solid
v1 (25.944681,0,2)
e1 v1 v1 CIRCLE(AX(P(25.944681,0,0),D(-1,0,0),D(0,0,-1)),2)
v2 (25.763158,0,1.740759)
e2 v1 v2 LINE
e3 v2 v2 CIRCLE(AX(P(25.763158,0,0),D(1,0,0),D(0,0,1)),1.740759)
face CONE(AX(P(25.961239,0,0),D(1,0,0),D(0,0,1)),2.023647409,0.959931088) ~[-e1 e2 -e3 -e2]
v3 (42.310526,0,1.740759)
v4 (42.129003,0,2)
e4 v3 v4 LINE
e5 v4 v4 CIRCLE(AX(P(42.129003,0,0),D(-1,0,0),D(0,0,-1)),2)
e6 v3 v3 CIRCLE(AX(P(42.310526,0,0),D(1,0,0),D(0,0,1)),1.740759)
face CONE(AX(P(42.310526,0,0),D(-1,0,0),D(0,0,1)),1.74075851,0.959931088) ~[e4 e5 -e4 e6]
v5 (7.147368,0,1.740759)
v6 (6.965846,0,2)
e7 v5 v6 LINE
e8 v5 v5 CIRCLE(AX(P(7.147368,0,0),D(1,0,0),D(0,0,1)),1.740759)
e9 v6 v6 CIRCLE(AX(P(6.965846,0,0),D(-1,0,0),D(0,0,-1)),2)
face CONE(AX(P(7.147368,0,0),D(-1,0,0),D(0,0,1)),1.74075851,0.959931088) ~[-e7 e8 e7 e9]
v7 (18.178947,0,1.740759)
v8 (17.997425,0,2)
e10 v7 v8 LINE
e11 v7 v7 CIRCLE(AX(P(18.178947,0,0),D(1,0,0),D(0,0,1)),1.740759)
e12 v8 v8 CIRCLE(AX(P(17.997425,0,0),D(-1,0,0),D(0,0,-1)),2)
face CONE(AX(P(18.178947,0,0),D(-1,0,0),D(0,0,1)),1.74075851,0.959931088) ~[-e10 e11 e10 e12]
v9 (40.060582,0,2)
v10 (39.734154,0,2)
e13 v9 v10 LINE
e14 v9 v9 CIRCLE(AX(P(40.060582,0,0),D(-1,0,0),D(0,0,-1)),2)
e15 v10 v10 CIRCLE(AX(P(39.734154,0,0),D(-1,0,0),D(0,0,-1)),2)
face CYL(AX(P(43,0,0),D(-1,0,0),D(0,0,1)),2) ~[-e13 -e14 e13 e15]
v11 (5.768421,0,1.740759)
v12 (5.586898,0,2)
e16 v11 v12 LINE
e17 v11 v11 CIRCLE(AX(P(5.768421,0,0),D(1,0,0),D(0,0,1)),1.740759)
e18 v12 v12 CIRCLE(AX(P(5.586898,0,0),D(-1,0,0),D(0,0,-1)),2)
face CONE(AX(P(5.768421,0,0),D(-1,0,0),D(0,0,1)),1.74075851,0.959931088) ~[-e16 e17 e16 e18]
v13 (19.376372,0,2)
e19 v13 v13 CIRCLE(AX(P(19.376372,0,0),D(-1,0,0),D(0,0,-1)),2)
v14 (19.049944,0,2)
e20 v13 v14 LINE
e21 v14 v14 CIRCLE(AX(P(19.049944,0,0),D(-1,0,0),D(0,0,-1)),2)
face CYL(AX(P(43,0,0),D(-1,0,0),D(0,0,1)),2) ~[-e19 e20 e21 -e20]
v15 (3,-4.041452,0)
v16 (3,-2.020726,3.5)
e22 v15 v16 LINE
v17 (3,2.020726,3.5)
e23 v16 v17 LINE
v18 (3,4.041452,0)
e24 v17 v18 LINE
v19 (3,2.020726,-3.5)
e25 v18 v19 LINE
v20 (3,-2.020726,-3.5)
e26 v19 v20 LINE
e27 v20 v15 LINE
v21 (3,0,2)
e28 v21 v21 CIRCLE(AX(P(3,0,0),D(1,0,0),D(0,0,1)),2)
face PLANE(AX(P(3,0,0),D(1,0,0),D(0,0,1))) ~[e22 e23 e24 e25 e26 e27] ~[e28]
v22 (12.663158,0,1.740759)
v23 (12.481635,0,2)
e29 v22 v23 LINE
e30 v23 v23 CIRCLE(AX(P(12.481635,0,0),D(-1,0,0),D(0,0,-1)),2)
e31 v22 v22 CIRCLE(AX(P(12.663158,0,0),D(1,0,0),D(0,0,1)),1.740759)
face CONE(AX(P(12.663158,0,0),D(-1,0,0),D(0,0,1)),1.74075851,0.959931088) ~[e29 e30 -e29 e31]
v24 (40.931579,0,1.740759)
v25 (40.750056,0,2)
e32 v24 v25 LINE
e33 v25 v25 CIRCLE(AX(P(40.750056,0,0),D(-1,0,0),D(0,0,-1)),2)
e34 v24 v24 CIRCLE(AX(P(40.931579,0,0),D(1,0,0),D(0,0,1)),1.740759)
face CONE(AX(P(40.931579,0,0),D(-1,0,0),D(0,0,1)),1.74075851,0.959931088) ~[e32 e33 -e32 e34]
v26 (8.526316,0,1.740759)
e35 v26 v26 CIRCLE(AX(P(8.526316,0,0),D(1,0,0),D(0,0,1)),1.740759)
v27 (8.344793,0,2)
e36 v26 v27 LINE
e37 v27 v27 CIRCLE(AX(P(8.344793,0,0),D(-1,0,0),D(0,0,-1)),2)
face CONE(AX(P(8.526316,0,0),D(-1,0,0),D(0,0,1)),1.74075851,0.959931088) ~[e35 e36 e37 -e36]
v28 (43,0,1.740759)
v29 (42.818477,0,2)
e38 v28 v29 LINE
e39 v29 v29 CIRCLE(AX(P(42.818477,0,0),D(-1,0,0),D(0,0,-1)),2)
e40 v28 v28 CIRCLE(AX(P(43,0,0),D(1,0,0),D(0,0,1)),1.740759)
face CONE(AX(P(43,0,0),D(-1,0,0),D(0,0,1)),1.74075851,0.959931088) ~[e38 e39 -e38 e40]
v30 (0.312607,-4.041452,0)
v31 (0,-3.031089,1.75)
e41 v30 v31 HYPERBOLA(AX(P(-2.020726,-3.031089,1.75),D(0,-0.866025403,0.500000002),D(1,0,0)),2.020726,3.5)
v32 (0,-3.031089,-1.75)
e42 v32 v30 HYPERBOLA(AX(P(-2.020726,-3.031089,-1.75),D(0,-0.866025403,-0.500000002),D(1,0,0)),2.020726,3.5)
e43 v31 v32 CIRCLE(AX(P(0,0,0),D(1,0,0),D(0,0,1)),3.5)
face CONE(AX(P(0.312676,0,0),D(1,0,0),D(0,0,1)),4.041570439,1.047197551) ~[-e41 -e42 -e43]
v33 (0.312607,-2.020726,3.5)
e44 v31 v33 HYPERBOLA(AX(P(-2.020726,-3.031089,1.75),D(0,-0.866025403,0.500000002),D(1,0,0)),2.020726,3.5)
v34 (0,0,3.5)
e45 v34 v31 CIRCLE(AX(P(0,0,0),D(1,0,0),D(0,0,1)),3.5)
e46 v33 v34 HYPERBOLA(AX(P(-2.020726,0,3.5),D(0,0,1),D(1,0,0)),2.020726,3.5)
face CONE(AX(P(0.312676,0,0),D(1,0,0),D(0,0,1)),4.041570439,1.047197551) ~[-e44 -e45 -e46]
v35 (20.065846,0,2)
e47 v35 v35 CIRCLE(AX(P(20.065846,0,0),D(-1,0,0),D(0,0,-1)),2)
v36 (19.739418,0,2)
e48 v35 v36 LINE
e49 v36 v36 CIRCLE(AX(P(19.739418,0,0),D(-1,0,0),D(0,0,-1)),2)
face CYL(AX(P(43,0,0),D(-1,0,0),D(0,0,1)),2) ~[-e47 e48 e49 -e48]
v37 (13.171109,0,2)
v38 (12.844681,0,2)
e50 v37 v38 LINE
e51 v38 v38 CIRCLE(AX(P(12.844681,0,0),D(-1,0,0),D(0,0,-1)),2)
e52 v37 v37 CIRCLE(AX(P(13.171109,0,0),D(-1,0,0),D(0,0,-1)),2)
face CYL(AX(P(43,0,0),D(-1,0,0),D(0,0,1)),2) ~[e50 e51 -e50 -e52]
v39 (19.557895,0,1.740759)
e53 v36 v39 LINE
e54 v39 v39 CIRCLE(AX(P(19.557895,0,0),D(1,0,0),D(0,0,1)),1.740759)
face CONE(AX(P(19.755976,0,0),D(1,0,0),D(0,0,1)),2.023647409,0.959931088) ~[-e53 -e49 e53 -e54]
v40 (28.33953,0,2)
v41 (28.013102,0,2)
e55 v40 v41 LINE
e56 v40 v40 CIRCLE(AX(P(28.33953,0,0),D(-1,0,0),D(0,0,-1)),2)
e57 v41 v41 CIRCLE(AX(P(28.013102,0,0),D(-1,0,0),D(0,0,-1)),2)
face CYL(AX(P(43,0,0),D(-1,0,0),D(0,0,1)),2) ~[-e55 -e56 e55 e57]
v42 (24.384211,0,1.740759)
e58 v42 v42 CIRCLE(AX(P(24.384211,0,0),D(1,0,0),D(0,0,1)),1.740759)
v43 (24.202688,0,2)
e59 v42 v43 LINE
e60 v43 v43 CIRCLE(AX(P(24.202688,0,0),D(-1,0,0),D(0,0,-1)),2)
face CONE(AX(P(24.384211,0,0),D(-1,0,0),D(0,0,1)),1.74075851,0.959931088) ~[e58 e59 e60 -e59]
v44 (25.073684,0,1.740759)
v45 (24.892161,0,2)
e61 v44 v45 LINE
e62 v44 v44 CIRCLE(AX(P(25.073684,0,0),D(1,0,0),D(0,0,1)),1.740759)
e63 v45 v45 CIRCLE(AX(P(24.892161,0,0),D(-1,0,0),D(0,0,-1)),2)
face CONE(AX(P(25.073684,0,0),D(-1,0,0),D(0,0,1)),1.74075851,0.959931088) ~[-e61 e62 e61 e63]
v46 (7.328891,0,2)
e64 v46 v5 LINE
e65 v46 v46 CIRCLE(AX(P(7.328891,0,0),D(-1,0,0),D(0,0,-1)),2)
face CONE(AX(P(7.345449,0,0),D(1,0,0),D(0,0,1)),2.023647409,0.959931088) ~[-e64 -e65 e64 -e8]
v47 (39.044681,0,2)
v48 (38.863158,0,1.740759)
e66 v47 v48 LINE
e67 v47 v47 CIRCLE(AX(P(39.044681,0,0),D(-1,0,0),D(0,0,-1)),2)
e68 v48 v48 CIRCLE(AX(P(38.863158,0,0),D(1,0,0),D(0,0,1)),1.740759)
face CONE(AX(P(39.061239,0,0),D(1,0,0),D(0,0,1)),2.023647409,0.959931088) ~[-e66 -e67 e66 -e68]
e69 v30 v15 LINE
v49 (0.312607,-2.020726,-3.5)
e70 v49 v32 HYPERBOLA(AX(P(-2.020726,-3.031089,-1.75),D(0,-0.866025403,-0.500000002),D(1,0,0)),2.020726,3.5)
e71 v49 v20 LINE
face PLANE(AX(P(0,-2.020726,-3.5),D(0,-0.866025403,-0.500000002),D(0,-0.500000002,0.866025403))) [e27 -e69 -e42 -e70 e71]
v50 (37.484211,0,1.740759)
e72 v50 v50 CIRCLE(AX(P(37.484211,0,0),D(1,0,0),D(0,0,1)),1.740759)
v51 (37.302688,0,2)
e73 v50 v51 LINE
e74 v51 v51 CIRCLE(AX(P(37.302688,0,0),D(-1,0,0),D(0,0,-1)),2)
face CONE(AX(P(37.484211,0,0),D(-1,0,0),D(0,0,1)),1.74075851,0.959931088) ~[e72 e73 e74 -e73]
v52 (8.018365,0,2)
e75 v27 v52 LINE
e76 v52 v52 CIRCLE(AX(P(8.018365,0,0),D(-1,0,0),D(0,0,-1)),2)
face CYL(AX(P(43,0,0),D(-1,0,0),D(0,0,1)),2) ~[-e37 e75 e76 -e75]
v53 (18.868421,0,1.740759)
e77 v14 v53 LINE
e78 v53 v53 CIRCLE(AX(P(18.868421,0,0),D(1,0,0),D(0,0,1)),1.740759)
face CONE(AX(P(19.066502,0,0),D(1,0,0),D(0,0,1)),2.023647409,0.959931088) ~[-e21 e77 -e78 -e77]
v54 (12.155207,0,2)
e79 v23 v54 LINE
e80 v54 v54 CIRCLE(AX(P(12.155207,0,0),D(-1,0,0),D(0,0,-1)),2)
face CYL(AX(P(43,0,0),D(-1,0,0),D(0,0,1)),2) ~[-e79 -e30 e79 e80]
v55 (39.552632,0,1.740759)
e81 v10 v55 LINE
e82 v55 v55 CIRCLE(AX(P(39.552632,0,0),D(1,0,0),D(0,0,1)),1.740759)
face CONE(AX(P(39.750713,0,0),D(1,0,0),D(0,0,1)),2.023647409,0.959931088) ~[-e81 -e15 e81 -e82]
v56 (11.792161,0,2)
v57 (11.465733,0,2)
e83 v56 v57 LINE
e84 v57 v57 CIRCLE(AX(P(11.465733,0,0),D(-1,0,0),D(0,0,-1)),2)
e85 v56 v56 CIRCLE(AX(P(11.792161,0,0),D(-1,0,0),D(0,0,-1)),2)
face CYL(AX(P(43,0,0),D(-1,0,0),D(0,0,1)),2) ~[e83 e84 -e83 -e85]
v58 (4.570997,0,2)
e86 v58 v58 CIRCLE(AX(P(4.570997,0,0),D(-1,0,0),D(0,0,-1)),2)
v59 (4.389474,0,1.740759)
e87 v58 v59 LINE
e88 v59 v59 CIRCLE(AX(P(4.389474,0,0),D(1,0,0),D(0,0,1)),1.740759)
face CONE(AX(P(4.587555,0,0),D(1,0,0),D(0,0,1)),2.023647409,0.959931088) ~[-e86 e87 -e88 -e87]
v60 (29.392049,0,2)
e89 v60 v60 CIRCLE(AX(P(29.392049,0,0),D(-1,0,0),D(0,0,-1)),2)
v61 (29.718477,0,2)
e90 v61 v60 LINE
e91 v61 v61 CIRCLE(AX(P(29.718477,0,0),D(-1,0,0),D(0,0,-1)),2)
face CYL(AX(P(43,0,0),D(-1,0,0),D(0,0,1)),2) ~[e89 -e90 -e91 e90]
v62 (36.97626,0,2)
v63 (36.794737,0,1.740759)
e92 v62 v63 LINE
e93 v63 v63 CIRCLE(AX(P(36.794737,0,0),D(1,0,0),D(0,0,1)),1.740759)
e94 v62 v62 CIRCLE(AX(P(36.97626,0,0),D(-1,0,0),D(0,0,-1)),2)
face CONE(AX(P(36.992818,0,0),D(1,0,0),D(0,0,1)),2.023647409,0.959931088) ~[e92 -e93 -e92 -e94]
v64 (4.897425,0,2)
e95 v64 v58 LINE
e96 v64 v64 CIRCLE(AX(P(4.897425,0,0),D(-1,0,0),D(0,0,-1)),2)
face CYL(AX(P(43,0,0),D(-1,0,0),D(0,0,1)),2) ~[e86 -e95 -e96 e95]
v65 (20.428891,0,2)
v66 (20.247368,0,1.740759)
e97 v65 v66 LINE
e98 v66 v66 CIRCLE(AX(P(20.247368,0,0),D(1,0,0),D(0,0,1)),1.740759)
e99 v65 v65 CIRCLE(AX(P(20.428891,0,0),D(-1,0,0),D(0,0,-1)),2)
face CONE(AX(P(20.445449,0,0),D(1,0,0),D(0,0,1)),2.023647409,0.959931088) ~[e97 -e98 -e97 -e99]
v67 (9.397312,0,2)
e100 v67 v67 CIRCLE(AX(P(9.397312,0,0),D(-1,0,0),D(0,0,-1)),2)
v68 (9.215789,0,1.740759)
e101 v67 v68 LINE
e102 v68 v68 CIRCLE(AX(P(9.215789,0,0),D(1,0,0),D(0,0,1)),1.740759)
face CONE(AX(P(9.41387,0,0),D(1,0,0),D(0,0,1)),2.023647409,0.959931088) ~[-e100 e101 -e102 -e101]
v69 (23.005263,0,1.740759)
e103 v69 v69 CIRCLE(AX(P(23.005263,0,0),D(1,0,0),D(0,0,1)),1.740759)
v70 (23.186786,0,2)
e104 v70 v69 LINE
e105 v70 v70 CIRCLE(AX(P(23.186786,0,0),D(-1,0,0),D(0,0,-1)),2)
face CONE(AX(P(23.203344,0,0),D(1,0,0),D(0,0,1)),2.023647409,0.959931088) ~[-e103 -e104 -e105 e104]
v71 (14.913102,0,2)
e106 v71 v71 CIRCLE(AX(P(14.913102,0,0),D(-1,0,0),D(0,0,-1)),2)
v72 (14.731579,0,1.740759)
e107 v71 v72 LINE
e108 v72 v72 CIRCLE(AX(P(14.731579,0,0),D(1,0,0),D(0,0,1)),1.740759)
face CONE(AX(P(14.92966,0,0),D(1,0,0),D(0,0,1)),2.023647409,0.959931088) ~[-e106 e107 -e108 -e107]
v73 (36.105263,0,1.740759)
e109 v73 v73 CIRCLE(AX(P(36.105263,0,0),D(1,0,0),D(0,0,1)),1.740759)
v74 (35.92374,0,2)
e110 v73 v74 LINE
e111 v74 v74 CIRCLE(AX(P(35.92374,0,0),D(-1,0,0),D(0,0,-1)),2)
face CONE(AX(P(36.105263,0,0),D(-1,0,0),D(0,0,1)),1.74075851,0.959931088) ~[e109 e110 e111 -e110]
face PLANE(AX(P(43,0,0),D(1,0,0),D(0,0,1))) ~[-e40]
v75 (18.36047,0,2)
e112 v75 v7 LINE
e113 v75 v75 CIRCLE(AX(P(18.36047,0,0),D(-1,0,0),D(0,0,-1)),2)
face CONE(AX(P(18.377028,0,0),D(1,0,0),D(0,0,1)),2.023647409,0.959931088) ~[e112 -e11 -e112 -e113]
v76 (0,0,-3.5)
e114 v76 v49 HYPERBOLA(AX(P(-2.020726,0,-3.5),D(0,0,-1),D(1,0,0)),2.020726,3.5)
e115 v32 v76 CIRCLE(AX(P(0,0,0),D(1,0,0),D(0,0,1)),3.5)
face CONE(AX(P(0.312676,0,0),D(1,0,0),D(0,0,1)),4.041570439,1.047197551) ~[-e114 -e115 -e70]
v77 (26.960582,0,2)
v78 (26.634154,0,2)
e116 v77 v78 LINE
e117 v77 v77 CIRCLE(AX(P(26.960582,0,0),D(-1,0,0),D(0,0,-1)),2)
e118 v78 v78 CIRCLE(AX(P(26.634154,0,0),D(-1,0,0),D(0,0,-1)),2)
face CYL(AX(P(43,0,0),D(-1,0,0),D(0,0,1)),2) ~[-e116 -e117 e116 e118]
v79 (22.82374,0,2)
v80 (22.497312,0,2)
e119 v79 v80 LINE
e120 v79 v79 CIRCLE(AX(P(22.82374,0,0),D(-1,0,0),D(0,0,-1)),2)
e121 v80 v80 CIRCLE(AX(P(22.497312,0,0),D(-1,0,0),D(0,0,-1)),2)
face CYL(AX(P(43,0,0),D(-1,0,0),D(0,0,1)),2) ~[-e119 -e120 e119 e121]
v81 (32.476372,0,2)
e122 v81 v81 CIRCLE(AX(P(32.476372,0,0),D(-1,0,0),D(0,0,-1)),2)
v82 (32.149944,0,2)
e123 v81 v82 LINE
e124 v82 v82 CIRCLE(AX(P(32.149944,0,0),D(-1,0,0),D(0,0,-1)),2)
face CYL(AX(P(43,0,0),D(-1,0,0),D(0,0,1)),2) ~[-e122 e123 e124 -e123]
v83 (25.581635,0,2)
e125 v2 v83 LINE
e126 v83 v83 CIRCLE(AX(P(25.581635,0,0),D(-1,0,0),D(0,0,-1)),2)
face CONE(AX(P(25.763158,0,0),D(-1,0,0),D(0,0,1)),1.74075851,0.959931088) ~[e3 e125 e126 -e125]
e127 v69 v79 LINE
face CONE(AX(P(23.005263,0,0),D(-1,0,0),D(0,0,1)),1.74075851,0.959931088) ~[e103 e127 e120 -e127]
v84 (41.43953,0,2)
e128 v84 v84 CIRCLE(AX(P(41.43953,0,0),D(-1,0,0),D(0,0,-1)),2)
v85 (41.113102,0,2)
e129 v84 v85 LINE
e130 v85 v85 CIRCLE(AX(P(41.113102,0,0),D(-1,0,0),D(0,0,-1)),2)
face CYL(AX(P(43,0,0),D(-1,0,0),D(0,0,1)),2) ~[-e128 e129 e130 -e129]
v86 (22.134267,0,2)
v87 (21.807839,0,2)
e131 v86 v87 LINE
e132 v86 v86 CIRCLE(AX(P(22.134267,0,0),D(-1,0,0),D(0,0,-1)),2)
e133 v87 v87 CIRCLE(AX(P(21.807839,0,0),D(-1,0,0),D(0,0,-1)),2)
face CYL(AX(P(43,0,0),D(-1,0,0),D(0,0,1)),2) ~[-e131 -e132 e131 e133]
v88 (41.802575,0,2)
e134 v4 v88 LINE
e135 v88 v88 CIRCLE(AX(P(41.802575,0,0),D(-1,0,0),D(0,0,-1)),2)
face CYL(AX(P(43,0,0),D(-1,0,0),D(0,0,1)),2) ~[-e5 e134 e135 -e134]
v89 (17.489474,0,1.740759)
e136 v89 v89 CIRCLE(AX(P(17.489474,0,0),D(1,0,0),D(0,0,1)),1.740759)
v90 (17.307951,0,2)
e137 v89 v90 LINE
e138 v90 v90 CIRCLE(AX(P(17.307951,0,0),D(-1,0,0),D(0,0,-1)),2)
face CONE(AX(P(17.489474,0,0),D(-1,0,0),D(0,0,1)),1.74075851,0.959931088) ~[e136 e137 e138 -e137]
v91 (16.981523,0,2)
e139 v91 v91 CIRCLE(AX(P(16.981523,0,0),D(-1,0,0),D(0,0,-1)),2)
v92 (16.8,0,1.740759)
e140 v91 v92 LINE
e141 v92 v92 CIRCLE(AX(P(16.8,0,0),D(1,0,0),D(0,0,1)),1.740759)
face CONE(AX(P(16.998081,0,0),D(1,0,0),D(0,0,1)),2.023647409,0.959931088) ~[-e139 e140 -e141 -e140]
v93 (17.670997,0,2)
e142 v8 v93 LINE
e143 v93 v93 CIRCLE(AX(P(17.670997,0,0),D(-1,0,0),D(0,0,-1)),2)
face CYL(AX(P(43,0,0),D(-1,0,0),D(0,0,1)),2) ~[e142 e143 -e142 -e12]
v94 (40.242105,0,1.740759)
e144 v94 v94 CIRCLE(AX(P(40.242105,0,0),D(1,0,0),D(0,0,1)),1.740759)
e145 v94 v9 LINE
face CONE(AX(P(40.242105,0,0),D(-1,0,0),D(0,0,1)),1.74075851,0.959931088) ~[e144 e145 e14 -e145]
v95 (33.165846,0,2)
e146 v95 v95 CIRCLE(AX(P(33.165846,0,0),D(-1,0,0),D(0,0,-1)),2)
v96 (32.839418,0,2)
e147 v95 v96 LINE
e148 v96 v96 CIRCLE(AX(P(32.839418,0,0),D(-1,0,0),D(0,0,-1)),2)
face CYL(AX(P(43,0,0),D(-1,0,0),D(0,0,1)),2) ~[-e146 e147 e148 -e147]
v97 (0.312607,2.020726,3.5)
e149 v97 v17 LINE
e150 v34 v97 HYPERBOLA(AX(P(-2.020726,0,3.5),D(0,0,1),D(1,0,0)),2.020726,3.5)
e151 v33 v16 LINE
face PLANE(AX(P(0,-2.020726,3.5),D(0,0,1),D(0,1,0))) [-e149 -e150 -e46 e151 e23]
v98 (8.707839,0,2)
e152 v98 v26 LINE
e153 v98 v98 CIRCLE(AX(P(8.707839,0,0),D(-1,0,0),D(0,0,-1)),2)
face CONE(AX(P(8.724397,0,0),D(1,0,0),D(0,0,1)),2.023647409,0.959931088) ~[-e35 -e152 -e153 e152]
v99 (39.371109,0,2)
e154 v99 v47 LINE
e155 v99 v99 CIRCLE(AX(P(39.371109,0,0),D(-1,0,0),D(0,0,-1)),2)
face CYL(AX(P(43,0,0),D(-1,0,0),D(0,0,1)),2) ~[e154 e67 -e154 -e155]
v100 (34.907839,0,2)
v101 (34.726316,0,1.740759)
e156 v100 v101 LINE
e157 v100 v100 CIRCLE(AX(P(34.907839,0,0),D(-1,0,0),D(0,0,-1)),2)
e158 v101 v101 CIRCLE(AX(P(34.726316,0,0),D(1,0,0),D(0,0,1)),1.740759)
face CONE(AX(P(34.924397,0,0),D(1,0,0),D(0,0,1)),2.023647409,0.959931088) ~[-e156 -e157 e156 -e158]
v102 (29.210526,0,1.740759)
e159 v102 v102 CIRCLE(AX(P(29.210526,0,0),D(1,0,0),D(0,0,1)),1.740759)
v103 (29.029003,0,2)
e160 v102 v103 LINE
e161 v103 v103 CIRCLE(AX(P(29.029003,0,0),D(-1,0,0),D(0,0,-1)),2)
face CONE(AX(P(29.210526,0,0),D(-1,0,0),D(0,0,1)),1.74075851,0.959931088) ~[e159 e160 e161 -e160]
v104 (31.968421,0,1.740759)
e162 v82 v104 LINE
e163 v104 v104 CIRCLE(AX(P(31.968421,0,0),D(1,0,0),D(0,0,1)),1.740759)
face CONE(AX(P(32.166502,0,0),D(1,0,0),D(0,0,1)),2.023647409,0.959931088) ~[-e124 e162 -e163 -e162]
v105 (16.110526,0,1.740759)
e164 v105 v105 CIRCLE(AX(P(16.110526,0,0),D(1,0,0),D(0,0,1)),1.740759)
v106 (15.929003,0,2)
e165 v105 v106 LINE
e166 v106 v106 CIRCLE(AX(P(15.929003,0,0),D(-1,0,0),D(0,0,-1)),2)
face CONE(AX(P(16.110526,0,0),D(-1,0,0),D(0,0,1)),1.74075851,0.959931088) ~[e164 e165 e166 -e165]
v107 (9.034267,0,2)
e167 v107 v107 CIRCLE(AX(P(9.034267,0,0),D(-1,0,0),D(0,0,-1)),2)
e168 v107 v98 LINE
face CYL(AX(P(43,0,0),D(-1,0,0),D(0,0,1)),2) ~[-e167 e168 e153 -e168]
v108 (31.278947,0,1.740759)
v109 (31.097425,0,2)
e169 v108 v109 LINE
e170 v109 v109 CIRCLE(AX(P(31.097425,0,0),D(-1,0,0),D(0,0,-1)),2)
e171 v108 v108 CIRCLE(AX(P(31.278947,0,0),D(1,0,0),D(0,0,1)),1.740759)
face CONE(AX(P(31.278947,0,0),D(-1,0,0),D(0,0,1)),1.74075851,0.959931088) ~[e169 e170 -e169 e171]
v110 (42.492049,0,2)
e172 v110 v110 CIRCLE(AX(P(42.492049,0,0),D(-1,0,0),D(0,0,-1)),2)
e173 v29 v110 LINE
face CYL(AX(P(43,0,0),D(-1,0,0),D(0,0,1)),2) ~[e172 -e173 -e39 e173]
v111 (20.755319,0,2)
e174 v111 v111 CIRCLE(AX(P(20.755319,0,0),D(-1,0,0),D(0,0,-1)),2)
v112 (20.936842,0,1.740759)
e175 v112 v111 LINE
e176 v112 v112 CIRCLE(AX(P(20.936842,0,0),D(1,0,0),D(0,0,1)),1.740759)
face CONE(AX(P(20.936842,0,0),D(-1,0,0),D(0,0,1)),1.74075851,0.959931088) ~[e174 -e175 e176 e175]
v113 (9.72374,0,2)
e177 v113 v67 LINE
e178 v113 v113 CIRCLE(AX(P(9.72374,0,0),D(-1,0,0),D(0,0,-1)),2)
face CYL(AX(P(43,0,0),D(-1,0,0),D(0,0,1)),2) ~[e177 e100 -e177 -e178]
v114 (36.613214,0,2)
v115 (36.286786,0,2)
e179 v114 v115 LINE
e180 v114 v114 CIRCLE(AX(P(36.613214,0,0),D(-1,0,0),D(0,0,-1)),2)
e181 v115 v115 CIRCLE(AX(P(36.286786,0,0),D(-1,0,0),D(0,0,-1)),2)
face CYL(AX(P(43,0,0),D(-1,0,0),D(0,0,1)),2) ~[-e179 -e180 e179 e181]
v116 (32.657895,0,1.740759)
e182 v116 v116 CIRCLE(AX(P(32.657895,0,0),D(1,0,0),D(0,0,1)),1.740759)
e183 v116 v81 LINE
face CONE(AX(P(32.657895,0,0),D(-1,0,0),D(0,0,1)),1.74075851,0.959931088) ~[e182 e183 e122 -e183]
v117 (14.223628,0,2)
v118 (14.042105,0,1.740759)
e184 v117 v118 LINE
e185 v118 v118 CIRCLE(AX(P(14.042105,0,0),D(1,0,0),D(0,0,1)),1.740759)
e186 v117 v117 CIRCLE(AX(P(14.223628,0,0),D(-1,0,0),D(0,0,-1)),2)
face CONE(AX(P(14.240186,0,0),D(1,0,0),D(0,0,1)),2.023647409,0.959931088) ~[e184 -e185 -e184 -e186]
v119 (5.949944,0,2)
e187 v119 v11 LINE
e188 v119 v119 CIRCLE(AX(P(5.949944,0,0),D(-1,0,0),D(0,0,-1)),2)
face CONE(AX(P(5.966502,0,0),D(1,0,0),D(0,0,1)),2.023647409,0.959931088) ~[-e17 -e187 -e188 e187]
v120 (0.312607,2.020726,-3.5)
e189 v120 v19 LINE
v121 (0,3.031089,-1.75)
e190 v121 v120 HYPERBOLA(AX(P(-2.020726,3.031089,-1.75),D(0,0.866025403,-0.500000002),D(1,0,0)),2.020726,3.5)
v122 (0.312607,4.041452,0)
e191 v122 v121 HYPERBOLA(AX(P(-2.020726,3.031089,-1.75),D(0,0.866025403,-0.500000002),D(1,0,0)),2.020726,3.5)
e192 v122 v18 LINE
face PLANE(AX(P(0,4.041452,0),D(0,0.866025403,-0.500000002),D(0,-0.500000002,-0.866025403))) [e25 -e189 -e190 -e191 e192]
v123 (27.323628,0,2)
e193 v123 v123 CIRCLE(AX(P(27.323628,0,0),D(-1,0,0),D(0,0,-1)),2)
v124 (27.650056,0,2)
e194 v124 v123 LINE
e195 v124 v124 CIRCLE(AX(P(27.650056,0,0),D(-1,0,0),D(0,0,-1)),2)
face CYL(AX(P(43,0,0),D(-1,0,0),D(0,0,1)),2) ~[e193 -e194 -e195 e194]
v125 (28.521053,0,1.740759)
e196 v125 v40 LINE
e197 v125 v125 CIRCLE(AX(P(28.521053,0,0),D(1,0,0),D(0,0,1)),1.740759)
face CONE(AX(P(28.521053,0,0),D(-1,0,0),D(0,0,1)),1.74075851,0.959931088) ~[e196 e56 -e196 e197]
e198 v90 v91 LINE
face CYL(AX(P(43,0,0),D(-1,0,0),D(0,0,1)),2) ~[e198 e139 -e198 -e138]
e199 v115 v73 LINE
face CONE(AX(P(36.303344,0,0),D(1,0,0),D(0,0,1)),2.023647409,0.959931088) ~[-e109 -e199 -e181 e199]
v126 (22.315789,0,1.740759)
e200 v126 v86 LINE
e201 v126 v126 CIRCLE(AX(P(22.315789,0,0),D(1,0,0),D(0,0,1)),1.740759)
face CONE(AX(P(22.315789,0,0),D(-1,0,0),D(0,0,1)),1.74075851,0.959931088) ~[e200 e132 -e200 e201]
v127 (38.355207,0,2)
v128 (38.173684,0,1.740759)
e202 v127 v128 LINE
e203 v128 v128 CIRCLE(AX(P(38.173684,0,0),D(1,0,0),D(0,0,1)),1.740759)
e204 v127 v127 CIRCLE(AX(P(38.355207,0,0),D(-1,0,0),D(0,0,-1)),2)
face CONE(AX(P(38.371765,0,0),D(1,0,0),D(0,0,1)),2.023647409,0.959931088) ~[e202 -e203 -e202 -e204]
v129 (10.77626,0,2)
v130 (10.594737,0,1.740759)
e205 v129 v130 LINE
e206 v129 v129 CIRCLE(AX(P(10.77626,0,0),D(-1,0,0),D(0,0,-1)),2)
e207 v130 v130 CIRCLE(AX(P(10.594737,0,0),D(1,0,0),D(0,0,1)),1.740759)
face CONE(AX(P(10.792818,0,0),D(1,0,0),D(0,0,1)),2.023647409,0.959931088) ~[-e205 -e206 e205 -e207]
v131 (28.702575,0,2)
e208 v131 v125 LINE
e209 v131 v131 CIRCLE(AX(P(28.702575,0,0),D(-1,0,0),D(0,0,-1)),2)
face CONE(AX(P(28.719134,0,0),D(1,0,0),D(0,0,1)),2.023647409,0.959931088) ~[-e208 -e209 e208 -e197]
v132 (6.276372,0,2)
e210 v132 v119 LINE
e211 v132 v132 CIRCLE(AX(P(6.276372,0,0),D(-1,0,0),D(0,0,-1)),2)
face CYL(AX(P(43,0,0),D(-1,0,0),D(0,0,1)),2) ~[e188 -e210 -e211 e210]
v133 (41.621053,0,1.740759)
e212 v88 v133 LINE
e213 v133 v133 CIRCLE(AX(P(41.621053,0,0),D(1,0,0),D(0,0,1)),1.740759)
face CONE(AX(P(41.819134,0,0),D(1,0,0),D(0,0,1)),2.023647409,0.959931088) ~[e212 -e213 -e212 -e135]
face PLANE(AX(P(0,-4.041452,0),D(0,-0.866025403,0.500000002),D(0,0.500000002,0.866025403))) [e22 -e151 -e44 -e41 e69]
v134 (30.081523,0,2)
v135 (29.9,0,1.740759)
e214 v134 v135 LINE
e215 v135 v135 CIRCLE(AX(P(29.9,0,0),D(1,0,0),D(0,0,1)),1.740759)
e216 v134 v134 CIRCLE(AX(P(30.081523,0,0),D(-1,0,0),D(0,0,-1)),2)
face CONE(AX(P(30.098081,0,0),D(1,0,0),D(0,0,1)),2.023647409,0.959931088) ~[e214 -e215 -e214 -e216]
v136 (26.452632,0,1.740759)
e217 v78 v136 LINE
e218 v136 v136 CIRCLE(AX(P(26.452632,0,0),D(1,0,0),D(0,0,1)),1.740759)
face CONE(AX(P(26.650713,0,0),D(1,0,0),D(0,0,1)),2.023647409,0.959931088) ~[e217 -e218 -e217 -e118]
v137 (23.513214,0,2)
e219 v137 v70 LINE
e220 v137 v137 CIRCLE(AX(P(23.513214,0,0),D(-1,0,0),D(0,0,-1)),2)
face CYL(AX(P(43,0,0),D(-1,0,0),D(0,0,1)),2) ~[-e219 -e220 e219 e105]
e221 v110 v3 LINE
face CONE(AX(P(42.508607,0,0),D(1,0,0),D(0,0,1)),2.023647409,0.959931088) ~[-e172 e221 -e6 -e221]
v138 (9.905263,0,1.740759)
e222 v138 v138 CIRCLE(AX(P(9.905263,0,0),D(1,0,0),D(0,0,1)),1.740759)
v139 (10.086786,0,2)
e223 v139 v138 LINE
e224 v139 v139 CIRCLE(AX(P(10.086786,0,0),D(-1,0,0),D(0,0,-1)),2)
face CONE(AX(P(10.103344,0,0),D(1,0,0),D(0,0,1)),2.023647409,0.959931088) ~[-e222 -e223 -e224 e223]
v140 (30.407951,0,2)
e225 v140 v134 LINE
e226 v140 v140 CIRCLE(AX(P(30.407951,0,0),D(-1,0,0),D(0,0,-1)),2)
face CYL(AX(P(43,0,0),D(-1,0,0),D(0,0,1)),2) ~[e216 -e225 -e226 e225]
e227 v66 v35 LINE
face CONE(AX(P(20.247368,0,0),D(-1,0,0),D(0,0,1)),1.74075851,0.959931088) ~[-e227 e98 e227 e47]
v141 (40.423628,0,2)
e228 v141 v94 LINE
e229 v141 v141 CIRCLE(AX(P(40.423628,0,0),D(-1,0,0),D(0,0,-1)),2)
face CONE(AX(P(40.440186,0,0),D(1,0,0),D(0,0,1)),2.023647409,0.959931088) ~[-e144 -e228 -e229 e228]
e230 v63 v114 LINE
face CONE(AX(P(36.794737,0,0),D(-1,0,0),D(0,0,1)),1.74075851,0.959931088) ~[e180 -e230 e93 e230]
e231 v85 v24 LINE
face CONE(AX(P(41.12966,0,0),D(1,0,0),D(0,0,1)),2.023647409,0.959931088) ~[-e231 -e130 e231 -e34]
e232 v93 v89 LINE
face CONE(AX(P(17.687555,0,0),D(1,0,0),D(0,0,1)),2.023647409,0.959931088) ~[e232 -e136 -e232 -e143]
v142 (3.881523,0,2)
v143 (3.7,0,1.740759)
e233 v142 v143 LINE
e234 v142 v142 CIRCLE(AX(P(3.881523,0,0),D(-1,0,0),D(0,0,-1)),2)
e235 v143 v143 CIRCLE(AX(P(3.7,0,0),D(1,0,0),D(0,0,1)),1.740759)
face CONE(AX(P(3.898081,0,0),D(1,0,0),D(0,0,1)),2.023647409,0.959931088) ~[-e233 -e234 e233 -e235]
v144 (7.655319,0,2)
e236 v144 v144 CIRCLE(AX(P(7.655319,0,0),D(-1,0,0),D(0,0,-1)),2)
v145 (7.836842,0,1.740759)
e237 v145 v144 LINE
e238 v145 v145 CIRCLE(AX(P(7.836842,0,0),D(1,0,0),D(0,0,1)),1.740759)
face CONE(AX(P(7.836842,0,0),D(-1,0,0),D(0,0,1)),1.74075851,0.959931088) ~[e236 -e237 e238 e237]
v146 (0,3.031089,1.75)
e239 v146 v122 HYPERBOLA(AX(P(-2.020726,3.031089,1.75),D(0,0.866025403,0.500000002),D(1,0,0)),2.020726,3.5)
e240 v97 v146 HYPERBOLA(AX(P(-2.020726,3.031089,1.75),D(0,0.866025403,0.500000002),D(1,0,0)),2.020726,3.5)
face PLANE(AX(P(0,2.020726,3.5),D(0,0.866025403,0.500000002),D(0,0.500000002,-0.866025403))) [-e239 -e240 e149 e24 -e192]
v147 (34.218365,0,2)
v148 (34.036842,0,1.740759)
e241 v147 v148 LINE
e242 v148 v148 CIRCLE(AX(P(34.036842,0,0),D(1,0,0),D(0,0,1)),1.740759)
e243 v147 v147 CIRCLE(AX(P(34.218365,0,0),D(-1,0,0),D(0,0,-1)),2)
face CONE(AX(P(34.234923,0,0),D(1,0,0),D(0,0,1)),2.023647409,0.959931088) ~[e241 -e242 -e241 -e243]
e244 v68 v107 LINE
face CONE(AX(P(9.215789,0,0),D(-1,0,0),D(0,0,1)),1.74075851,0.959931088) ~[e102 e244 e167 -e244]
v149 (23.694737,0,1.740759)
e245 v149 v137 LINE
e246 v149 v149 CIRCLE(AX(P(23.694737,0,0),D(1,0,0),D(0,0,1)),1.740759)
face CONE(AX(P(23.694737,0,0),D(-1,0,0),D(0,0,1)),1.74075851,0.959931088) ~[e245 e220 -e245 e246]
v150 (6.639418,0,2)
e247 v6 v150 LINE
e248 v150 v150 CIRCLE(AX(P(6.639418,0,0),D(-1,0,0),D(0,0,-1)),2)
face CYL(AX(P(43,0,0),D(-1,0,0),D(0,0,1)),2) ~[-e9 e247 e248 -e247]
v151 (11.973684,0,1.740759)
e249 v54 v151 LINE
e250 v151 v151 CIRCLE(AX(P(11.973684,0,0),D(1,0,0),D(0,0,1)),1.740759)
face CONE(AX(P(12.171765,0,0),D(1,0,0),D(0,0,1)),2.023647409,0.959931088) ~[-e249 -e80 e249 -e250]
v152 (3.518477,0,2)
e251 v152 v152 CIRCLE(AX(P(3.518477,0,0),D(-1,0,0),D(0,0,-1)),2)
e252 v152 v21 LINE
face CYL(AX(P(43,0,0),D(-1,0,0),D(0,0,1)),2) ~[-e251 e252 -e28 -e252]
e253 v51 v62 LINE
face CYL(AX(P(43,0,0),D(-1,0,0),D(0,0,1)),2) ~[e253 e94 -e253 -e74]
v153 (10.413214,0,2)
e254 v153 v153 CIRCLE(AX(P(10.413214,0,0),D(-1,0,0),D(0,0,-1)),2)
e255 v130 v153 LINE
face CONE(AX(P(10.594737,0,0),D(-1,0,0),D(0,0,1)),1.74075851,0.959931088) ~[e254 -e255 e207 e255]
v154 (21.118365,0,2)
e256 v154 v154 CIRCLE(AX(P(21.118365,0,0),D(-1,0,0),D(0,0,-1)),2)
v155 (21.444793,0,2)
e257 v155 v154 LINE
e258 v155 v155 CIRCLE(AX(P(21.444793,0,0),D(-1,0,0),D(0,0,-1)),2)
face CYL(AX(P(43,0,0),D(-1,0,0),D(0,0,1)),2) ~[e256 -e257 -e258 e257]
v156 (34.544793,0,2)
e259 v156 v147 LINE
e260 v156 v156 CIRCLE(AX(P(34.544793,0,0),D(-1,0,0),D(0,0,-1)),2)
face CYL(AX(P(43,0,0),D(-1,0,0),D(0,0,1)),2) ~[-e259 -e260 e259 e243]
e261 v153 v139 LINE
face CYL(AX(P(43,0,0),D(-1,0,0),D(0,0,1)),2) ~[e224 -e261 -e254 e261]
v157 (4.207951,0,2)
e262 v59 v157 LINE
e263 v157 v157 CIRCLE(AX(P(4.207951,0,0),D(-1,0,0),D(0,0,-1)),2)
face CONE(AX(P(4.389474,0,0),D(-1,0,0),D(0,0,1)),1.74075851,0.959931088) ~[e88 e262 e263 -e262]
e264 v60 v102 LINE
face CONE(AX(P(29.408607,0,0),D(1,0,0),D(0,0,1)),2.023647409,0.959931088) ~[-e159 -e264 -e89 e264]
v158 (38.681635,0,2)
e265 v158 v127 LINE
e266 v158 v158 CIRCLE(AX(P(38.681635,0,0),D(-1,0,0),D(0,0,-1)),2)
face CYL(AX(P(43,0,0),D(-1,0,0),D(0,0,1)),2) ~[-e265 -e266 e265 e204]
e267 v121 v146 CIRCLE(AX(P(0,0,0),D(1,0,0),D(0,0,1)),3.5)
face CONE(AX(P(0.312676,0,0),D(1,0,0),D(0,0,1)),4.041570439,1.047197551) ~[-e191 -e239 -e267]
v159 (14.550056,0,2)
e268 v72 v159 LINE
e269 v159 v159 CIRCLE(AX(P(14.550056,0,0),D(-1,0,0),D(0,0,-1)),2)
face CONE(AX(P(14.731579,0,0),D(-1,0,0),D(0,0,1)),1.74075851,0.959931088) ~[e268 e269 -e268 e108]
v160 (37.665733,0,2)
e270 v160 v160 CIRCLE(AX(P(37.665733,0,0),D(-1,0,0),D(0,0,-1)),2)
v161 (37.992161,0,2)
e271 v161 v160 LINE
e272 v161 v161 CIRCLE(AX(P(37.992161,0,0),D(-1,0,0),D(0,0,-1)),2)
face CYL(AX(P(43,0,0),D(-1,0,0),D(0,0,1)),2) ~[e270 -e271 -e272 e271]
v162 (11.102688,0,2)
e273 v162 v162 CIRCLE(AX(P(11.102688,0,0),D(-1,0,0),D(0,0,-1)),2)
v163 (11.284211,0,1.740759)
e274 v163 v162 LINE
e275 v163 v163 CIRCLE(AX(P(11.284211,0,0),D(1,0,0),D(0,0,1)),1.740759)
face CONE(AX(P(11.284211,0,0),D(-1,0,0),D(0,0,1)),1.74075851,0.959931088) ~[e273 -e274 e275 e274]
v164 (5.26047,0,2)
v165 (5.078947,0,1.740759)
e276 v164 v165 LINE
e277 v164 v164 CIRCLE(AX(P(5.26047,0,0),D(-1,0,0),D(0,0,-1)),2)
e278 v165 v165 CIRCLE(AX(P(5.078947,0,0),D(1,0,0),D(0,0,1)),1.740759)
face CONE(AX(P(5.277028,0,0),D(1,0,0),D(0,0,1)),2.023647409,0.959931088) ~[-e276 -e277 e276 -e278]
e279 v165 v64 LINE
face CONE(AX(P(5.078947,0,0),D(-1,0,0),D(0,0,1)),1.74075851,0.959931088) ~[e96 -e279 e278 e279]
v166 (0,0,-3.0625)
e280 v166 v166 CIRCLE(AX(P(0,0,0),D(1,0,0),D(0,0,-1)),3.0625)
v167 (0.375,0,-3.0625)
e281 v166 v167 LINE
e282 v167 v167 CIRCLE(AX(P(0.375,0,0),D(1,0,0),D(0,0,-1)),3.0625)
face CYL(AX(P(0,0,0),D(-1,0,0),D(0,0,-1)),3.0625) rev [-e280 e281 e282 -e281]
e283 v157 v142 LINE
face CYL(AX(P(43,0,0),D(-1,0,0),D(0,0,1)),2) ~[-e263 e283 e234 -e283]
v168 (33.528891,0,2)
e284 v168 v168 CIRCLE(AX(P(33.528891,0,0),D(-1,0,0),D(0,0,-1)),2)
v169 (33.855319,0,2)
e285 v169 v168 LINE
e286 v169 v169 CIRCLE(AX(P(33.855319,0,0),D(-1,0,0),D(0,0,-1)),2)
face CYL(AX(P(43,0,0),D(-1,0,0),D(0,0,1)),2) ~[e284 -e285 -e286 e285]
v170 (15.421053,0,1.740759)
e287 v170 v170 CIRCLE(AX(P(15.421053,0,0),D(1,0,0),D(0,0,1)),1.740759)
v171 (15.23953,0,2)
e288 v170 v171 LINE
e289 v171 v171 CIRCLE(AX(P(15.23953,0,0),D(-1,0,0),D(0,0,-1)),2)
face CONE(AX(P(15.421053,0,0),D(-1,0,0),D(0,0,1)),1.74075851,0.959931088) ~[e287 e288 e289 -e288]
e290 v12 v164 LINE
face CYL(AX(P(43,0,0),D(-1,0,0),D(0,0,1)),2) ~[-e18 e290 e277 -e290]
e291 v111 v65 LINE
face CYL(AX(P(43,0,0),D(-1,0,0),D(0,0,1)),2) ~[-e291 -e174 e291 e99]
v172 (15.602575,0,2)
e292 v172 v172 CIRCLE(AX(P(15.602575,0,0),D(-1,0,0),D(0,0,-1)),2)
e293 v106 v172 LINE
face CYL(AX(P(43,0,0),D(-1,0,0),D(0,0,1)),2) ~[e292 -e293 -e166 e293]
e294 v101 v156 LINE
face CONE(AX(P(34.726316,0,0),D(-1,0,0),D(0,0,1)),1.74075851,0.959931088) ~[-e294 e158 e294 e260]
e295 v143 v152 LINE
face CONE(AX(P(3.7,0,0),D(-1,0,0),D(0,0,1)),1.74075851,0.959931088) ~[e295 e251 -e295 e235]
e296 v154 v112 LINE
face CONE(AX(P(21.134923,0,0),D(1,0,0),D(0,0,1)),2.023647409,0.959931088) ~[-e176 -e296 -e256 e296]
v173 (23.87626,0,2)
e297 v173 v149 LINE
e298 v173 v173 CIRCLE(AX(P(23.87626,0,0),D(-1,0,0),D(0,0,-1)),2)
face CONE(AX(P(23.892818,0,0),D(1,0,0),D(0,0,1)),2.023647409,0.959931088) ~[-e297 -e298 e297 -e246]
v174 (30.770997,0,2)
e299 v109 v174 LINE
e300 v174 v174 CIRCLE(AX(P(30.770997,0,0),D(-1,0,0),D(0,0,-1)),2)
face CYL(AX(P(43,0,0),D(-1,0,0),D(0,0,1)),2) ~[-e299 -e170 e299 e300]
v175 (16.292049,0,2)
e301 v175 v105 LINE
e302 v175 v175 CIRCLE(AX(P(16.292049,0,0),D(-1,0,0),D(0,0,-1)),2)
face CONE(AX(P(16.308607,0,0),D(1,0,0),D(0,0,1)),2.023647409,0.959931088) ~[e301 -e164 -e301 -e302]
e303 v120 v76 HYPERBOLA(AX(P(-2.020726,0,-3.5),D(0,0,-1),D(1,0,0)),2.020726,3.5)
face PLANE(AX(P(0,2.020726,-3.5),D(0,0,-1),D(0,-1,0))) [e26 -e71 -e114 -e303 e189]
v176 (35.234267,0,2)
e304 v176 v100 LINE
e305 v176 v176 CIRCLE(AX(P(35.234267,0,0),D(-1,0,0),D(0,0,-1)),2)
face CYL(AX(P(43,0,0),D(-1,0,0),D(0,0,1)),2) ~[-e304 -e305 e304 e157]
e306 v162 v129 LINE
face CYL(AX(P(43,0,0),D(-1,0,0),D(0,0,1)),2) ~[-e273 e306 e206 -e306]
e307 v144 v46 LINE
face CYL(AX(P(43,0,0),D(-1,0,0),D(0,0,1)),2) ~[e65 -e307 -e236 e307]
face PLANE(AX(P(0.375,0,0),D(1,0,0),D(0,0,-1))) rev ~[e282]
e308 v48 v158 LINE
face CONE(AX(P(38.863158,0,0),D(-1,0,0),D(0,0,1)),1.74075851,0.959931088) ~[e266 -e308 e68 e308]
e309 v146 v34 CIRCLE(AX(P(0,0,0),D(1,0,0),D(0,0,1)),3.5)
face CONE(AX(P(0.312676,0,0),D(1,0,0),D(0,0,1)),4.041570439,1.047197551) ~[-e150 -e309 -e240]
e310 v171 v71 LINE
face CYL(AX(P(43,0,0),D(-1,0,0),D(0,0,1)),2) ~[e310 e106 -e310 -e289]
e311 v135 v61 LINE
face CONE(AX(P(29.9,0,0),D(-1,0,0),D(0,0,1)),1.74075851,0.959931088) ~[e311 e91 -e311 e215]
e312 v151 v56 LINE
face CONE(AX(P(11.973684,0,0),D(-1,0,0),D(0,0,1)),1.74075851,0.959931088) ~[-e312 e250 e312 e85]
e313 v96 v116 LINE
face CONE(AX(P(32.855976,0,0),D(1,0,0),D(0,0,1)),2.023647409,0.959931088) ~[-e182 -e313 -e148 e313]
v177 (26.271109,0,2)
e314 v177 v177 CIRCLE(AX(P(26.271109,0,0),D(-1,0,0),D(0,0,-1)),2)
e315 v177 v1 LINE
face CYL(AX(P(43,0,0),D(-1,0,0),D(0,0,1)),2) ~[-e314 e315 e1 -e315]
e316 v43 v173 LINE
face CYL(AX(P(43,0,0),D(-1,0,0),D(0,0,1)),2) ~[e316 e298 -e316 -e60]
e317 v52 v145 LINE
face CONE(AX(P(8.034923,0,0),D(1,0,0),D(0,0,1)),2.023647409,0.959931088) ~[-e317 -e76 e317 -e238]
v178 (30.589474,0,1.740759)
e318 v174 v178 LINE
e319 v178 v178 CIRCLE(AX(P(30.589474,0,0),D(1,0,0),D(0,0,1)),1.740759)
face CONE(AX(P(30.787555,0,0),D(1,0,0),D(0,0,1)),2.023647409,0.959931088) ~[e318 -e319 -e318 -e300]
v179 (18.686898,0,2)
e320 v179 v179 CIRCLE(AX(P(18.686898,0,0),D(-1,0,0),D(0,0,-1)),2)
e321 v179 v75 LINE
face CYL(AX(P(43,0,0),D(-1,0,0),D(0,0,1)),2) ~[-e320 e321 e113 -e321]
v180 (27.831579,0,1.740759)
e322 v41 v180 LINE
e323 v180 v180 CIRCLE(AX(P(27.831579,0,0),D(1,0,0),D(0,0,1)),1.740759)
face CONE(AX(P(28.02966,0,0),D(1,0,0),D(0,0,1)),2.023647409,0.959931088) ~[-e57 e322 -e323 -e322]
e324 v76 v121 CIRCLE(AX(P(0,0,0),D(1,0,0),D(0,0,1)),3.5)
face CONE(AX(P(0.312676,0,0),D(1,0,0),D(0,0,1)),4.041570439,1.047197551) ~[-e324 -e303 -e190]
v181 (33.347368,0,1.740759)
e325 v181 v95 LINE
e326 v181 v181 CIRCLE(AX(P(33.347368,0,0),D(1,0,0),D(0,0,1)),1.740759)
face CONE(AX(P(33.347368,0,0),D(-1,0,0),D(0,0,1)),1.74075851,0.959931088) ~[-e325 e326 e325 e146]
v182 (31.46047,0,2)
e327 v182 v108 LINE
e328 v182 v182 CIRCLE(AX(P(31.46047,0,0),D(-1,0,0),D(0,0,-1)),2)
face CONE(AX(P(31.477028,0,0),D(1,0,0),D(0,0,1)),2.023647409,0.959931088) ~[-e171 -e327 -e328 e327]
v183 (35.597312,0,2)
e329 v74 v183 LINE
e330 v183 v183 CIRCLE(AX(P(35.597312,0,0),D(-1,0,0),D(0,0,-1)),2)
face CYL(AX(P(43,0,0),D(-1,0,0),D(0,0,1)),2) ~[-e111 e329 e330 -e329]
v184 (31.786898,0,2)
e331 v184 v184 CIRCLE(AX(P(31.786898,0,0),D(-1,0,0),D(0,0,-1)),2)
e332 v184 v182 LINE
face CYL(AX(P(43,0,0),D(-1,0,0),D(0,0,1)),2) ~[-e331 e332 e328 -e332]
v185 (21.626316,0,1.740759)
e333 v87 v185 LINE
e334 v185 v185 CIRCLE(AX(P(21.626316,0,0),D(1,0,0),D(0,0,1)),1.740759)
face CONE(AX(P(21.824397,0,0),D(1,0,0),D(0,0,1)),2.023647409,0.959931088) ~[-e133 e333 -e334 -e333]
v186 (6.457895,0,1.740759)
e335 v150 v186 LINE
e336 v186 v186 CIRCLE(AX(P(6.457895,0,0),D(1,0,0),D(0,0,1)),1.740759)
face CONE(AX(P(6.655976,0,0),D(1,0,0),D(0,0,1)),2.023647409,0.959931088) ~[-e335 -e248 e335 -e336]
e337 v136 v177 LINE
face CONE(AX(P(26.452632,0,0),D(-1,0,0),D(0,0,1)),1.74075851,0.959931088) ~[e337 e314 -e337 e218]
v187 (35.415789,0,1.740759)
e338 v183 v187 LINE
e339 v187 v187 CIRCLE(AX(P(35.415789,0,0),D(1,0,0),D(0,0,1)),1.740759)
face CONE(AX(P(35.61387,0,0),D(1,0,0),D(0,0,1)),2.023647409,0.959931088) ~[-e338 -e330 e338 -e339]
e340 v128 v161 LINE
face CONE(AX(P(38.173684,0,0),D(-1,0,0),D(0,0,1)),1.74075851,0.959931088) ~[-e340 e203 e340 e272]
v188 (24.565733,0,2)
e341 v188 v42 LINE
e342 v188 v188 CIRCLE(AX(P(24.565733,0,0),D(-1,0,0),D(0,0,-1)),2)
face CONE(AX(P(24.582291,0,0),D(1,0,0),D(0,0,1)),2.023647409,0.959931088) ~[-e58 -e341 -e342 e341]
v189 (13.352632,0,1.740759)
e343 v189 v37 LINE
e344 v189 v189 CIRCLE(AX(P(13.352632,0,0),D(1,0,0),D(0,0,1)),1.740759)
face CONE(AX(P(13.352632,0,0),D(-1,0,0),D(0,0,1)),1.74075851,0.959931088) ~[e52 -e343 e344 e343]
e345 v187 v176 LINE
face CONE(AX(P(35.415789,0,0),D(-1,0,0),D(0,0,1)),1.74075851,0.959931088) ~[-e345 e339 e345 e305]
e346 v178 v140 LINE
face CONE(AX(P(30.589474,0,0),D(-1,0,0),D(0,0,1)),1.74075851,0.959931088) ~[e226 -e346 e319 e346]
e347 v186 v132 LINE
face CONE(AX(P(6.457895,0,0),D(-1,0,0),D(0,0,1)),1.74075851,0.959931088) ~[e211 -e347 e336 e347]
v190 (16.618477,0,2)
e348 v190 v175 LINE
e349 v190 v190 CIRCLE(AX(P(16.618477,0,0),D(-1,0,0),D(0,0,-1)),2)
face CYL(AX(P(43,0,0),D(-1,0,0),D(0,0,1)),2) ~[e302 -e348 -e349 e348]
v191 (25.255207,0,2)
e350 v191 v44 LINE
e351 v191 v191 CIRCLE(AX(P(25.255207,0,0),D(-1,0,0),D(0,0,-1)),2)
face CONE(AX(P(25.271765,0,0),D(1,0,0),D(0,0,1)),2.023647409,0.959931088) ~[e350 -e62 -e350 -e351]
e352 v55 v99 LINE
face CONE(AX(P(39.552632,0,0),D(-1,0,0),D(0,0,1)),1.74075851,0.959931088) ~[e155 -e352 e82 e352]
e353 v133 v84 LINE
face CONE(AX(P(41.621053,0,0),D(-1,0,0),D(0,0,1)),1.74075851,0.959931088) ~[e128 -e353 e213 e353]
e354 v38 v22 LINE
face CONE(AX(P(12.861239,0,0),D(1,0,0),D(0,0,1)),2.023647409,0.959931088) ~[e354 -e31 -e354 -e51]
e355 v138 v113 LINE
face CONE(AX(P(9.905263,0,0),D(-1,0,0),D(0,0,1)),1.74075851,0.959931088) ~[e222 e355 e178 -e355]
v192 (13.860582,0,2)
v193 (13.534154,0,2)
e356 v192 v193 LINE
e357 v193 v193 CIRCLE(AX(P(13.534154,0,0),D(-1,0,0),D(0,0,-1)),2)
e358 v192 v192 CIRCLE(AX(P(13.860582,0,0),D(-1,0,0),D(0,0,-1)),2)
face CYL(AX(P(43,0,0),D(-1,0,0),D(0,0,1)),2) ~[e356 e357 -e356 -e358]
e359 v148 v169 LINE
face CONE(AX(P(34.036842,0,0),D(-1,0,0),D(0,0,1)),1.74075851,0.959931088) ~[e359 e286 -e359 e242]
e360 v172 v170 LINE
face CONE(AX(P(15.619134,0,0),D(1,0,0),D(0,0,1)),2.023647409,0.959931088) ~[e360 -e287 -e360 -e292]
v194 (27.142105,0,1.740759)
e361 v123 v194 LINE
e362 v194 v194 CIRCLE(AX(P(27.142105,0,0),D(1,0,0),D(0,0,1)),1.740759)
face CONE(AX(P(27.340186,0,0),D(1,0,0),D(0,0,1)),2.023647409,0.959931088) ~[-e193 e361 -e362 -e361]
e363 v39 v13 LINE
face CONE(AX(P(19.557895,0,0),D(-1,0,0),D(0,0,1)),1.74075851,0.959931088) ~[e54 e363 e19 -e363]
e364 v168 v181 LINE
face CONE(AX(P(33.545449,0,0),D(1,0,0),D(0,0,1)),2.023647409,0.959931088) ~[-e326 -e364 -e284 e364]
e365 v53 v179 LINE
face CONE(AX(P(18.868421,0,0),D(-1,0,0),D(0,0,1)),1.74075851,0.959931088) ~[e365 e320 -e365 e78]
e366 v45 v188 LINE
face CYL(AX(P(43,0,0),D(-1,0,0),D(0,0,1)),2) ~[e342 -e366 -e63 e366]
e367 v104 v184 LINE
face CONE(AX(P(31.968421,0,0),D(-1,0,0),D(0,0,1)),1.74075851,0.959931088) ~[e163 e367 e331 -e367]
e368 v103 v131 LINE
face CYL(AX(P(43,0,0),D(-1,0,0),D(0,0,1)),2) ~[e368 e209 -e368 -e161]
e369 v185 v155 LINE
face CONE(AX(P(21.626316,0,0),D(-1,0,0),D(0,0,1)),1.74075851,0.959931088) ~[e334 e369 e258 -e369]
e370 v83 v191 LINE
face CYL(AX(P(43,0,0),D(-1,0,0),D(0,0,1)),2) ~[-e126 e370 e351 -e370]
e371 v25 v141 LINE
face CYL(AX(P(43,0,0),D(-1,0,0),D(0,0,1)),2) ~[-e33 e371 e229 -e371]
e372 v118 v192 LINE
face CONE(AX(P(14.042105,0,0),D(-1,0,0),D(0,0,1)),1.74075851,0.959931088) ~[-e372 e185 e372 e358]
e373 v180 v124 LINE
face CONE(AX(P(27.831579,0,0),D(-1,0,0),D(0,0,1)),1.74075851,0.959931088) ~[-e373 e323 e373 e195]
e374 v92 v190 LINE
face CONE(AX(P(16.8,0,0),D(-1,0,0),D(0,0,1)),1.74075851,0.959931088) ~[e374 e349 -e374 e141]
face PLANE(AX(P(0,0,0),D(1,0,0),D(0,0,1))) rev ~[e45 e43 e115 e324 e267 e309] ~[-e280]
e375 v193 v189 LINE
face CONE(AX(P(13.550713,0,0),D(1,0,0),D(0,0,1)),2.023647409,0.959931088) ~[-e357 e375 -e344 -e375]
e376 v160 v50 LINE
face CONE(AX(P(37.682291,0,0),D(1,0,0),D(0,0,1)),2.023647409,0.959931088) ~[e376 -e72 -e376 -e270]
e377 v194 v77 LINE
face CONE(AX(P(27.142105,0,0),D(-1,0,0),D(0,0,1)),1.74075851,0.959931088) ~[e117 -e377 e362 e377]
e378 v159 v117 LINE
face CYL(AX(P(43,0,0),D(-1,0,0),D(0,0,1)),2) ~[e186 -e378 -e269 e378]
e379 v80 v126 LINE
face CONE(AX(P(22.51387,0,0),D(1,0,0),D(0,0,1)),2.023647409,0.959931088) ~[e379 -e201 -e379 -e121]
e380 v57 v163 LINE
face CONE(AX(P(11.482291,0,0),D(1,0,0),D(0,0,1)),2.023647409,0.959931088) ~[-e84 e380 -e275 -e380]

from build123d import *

# Parameters (mm, degrees)
SKETCH2_R       = 4.081986143
HEX_DIE_DEPTH   = 3
SKETCH4_R       = 3.0625
INDENT_DEPTH    = 0.375
THDSCHPAT_COUNT = 58
THDSCHPAT_PITCH = 0.689473684


with BuildPart() as part:
    # BodySke → Base-Revolve (revolve)
    with BuildSketch(Plane.XY, mode=Mode.PRIVATE) as base_revolve_sk:
        Polygon((3, 2), (3, 4.041570439), (0.312675839, 4.041570439), (0, 3.5), (0, 0), (43, 0), (43, 2), align=None)
    revolve(base_revolve_sk.sketch.rotate(Axis((-25.4, 0, 0), (1, 0, 0)), 90), axis=Axis((-25.4, 0, 0), (1, 0, 0)))

    # Sketch2 → Hex-Die (cut)
    with BuildSketch(Plane(origin=(0, 0, 0), x_dir=(0, 0, -1), z_dir=(1, 0, 0))):
        Circle(SKETCH2_R)
        Polygon((-3.5, 2.020725951), (0, 4.041451902), (3.5, 2.020725951), (3.5, -2.020725951), (0, -4.041451902), (-3.5, -2.020725951), align=None, mode=Mode.SUBTRACT)
    extrude(amount=HEX_DIE_DEPTH, mode=Mode.SUBTRACT)

    # Sketch4 → Indent (cut)
    with BuildSketch(Plane(origin=(0, 0, 0), x_dir=(0, 0, -1), z_dir=(1, 0, 0))):
        Circle(SKETCH4_R)
    extrude(amount=INDENT_DEPTH, mode=Mode.SUBTRACT)

    # ThdSchSke → ThreadSchematic (revolve, cut)
    with BuildSketch(Plane.XY, mode=Mode.PRIVATE) as threadschematic_sk:
        Polygon((3.7, -1.74075851), (3.50191906, -2.023647409), (3.50191906, -4.925), (3.89808094, -4.925), (3.89808094, -2.023647409), align=None)
    threadschematic = revolve(threadschematic_sk.sketch.rotate(Axis((-3.175, 0, 0), (1, 0, 0)), 270), axis=Axis((-3.175, 0, 0), (1, 0, 0)), mode=Mode.SUBTRACT)

    # ThdSchPat: ThreadSchematic ×58
    with Locations(*[(i * THDSCHPAT_PITCH, 0, 0) for i in range(1, THDSCHPAT_COUNT)]):
        add(threadschematic, mode=Mode.SUBTRACT)


solid = part.part
